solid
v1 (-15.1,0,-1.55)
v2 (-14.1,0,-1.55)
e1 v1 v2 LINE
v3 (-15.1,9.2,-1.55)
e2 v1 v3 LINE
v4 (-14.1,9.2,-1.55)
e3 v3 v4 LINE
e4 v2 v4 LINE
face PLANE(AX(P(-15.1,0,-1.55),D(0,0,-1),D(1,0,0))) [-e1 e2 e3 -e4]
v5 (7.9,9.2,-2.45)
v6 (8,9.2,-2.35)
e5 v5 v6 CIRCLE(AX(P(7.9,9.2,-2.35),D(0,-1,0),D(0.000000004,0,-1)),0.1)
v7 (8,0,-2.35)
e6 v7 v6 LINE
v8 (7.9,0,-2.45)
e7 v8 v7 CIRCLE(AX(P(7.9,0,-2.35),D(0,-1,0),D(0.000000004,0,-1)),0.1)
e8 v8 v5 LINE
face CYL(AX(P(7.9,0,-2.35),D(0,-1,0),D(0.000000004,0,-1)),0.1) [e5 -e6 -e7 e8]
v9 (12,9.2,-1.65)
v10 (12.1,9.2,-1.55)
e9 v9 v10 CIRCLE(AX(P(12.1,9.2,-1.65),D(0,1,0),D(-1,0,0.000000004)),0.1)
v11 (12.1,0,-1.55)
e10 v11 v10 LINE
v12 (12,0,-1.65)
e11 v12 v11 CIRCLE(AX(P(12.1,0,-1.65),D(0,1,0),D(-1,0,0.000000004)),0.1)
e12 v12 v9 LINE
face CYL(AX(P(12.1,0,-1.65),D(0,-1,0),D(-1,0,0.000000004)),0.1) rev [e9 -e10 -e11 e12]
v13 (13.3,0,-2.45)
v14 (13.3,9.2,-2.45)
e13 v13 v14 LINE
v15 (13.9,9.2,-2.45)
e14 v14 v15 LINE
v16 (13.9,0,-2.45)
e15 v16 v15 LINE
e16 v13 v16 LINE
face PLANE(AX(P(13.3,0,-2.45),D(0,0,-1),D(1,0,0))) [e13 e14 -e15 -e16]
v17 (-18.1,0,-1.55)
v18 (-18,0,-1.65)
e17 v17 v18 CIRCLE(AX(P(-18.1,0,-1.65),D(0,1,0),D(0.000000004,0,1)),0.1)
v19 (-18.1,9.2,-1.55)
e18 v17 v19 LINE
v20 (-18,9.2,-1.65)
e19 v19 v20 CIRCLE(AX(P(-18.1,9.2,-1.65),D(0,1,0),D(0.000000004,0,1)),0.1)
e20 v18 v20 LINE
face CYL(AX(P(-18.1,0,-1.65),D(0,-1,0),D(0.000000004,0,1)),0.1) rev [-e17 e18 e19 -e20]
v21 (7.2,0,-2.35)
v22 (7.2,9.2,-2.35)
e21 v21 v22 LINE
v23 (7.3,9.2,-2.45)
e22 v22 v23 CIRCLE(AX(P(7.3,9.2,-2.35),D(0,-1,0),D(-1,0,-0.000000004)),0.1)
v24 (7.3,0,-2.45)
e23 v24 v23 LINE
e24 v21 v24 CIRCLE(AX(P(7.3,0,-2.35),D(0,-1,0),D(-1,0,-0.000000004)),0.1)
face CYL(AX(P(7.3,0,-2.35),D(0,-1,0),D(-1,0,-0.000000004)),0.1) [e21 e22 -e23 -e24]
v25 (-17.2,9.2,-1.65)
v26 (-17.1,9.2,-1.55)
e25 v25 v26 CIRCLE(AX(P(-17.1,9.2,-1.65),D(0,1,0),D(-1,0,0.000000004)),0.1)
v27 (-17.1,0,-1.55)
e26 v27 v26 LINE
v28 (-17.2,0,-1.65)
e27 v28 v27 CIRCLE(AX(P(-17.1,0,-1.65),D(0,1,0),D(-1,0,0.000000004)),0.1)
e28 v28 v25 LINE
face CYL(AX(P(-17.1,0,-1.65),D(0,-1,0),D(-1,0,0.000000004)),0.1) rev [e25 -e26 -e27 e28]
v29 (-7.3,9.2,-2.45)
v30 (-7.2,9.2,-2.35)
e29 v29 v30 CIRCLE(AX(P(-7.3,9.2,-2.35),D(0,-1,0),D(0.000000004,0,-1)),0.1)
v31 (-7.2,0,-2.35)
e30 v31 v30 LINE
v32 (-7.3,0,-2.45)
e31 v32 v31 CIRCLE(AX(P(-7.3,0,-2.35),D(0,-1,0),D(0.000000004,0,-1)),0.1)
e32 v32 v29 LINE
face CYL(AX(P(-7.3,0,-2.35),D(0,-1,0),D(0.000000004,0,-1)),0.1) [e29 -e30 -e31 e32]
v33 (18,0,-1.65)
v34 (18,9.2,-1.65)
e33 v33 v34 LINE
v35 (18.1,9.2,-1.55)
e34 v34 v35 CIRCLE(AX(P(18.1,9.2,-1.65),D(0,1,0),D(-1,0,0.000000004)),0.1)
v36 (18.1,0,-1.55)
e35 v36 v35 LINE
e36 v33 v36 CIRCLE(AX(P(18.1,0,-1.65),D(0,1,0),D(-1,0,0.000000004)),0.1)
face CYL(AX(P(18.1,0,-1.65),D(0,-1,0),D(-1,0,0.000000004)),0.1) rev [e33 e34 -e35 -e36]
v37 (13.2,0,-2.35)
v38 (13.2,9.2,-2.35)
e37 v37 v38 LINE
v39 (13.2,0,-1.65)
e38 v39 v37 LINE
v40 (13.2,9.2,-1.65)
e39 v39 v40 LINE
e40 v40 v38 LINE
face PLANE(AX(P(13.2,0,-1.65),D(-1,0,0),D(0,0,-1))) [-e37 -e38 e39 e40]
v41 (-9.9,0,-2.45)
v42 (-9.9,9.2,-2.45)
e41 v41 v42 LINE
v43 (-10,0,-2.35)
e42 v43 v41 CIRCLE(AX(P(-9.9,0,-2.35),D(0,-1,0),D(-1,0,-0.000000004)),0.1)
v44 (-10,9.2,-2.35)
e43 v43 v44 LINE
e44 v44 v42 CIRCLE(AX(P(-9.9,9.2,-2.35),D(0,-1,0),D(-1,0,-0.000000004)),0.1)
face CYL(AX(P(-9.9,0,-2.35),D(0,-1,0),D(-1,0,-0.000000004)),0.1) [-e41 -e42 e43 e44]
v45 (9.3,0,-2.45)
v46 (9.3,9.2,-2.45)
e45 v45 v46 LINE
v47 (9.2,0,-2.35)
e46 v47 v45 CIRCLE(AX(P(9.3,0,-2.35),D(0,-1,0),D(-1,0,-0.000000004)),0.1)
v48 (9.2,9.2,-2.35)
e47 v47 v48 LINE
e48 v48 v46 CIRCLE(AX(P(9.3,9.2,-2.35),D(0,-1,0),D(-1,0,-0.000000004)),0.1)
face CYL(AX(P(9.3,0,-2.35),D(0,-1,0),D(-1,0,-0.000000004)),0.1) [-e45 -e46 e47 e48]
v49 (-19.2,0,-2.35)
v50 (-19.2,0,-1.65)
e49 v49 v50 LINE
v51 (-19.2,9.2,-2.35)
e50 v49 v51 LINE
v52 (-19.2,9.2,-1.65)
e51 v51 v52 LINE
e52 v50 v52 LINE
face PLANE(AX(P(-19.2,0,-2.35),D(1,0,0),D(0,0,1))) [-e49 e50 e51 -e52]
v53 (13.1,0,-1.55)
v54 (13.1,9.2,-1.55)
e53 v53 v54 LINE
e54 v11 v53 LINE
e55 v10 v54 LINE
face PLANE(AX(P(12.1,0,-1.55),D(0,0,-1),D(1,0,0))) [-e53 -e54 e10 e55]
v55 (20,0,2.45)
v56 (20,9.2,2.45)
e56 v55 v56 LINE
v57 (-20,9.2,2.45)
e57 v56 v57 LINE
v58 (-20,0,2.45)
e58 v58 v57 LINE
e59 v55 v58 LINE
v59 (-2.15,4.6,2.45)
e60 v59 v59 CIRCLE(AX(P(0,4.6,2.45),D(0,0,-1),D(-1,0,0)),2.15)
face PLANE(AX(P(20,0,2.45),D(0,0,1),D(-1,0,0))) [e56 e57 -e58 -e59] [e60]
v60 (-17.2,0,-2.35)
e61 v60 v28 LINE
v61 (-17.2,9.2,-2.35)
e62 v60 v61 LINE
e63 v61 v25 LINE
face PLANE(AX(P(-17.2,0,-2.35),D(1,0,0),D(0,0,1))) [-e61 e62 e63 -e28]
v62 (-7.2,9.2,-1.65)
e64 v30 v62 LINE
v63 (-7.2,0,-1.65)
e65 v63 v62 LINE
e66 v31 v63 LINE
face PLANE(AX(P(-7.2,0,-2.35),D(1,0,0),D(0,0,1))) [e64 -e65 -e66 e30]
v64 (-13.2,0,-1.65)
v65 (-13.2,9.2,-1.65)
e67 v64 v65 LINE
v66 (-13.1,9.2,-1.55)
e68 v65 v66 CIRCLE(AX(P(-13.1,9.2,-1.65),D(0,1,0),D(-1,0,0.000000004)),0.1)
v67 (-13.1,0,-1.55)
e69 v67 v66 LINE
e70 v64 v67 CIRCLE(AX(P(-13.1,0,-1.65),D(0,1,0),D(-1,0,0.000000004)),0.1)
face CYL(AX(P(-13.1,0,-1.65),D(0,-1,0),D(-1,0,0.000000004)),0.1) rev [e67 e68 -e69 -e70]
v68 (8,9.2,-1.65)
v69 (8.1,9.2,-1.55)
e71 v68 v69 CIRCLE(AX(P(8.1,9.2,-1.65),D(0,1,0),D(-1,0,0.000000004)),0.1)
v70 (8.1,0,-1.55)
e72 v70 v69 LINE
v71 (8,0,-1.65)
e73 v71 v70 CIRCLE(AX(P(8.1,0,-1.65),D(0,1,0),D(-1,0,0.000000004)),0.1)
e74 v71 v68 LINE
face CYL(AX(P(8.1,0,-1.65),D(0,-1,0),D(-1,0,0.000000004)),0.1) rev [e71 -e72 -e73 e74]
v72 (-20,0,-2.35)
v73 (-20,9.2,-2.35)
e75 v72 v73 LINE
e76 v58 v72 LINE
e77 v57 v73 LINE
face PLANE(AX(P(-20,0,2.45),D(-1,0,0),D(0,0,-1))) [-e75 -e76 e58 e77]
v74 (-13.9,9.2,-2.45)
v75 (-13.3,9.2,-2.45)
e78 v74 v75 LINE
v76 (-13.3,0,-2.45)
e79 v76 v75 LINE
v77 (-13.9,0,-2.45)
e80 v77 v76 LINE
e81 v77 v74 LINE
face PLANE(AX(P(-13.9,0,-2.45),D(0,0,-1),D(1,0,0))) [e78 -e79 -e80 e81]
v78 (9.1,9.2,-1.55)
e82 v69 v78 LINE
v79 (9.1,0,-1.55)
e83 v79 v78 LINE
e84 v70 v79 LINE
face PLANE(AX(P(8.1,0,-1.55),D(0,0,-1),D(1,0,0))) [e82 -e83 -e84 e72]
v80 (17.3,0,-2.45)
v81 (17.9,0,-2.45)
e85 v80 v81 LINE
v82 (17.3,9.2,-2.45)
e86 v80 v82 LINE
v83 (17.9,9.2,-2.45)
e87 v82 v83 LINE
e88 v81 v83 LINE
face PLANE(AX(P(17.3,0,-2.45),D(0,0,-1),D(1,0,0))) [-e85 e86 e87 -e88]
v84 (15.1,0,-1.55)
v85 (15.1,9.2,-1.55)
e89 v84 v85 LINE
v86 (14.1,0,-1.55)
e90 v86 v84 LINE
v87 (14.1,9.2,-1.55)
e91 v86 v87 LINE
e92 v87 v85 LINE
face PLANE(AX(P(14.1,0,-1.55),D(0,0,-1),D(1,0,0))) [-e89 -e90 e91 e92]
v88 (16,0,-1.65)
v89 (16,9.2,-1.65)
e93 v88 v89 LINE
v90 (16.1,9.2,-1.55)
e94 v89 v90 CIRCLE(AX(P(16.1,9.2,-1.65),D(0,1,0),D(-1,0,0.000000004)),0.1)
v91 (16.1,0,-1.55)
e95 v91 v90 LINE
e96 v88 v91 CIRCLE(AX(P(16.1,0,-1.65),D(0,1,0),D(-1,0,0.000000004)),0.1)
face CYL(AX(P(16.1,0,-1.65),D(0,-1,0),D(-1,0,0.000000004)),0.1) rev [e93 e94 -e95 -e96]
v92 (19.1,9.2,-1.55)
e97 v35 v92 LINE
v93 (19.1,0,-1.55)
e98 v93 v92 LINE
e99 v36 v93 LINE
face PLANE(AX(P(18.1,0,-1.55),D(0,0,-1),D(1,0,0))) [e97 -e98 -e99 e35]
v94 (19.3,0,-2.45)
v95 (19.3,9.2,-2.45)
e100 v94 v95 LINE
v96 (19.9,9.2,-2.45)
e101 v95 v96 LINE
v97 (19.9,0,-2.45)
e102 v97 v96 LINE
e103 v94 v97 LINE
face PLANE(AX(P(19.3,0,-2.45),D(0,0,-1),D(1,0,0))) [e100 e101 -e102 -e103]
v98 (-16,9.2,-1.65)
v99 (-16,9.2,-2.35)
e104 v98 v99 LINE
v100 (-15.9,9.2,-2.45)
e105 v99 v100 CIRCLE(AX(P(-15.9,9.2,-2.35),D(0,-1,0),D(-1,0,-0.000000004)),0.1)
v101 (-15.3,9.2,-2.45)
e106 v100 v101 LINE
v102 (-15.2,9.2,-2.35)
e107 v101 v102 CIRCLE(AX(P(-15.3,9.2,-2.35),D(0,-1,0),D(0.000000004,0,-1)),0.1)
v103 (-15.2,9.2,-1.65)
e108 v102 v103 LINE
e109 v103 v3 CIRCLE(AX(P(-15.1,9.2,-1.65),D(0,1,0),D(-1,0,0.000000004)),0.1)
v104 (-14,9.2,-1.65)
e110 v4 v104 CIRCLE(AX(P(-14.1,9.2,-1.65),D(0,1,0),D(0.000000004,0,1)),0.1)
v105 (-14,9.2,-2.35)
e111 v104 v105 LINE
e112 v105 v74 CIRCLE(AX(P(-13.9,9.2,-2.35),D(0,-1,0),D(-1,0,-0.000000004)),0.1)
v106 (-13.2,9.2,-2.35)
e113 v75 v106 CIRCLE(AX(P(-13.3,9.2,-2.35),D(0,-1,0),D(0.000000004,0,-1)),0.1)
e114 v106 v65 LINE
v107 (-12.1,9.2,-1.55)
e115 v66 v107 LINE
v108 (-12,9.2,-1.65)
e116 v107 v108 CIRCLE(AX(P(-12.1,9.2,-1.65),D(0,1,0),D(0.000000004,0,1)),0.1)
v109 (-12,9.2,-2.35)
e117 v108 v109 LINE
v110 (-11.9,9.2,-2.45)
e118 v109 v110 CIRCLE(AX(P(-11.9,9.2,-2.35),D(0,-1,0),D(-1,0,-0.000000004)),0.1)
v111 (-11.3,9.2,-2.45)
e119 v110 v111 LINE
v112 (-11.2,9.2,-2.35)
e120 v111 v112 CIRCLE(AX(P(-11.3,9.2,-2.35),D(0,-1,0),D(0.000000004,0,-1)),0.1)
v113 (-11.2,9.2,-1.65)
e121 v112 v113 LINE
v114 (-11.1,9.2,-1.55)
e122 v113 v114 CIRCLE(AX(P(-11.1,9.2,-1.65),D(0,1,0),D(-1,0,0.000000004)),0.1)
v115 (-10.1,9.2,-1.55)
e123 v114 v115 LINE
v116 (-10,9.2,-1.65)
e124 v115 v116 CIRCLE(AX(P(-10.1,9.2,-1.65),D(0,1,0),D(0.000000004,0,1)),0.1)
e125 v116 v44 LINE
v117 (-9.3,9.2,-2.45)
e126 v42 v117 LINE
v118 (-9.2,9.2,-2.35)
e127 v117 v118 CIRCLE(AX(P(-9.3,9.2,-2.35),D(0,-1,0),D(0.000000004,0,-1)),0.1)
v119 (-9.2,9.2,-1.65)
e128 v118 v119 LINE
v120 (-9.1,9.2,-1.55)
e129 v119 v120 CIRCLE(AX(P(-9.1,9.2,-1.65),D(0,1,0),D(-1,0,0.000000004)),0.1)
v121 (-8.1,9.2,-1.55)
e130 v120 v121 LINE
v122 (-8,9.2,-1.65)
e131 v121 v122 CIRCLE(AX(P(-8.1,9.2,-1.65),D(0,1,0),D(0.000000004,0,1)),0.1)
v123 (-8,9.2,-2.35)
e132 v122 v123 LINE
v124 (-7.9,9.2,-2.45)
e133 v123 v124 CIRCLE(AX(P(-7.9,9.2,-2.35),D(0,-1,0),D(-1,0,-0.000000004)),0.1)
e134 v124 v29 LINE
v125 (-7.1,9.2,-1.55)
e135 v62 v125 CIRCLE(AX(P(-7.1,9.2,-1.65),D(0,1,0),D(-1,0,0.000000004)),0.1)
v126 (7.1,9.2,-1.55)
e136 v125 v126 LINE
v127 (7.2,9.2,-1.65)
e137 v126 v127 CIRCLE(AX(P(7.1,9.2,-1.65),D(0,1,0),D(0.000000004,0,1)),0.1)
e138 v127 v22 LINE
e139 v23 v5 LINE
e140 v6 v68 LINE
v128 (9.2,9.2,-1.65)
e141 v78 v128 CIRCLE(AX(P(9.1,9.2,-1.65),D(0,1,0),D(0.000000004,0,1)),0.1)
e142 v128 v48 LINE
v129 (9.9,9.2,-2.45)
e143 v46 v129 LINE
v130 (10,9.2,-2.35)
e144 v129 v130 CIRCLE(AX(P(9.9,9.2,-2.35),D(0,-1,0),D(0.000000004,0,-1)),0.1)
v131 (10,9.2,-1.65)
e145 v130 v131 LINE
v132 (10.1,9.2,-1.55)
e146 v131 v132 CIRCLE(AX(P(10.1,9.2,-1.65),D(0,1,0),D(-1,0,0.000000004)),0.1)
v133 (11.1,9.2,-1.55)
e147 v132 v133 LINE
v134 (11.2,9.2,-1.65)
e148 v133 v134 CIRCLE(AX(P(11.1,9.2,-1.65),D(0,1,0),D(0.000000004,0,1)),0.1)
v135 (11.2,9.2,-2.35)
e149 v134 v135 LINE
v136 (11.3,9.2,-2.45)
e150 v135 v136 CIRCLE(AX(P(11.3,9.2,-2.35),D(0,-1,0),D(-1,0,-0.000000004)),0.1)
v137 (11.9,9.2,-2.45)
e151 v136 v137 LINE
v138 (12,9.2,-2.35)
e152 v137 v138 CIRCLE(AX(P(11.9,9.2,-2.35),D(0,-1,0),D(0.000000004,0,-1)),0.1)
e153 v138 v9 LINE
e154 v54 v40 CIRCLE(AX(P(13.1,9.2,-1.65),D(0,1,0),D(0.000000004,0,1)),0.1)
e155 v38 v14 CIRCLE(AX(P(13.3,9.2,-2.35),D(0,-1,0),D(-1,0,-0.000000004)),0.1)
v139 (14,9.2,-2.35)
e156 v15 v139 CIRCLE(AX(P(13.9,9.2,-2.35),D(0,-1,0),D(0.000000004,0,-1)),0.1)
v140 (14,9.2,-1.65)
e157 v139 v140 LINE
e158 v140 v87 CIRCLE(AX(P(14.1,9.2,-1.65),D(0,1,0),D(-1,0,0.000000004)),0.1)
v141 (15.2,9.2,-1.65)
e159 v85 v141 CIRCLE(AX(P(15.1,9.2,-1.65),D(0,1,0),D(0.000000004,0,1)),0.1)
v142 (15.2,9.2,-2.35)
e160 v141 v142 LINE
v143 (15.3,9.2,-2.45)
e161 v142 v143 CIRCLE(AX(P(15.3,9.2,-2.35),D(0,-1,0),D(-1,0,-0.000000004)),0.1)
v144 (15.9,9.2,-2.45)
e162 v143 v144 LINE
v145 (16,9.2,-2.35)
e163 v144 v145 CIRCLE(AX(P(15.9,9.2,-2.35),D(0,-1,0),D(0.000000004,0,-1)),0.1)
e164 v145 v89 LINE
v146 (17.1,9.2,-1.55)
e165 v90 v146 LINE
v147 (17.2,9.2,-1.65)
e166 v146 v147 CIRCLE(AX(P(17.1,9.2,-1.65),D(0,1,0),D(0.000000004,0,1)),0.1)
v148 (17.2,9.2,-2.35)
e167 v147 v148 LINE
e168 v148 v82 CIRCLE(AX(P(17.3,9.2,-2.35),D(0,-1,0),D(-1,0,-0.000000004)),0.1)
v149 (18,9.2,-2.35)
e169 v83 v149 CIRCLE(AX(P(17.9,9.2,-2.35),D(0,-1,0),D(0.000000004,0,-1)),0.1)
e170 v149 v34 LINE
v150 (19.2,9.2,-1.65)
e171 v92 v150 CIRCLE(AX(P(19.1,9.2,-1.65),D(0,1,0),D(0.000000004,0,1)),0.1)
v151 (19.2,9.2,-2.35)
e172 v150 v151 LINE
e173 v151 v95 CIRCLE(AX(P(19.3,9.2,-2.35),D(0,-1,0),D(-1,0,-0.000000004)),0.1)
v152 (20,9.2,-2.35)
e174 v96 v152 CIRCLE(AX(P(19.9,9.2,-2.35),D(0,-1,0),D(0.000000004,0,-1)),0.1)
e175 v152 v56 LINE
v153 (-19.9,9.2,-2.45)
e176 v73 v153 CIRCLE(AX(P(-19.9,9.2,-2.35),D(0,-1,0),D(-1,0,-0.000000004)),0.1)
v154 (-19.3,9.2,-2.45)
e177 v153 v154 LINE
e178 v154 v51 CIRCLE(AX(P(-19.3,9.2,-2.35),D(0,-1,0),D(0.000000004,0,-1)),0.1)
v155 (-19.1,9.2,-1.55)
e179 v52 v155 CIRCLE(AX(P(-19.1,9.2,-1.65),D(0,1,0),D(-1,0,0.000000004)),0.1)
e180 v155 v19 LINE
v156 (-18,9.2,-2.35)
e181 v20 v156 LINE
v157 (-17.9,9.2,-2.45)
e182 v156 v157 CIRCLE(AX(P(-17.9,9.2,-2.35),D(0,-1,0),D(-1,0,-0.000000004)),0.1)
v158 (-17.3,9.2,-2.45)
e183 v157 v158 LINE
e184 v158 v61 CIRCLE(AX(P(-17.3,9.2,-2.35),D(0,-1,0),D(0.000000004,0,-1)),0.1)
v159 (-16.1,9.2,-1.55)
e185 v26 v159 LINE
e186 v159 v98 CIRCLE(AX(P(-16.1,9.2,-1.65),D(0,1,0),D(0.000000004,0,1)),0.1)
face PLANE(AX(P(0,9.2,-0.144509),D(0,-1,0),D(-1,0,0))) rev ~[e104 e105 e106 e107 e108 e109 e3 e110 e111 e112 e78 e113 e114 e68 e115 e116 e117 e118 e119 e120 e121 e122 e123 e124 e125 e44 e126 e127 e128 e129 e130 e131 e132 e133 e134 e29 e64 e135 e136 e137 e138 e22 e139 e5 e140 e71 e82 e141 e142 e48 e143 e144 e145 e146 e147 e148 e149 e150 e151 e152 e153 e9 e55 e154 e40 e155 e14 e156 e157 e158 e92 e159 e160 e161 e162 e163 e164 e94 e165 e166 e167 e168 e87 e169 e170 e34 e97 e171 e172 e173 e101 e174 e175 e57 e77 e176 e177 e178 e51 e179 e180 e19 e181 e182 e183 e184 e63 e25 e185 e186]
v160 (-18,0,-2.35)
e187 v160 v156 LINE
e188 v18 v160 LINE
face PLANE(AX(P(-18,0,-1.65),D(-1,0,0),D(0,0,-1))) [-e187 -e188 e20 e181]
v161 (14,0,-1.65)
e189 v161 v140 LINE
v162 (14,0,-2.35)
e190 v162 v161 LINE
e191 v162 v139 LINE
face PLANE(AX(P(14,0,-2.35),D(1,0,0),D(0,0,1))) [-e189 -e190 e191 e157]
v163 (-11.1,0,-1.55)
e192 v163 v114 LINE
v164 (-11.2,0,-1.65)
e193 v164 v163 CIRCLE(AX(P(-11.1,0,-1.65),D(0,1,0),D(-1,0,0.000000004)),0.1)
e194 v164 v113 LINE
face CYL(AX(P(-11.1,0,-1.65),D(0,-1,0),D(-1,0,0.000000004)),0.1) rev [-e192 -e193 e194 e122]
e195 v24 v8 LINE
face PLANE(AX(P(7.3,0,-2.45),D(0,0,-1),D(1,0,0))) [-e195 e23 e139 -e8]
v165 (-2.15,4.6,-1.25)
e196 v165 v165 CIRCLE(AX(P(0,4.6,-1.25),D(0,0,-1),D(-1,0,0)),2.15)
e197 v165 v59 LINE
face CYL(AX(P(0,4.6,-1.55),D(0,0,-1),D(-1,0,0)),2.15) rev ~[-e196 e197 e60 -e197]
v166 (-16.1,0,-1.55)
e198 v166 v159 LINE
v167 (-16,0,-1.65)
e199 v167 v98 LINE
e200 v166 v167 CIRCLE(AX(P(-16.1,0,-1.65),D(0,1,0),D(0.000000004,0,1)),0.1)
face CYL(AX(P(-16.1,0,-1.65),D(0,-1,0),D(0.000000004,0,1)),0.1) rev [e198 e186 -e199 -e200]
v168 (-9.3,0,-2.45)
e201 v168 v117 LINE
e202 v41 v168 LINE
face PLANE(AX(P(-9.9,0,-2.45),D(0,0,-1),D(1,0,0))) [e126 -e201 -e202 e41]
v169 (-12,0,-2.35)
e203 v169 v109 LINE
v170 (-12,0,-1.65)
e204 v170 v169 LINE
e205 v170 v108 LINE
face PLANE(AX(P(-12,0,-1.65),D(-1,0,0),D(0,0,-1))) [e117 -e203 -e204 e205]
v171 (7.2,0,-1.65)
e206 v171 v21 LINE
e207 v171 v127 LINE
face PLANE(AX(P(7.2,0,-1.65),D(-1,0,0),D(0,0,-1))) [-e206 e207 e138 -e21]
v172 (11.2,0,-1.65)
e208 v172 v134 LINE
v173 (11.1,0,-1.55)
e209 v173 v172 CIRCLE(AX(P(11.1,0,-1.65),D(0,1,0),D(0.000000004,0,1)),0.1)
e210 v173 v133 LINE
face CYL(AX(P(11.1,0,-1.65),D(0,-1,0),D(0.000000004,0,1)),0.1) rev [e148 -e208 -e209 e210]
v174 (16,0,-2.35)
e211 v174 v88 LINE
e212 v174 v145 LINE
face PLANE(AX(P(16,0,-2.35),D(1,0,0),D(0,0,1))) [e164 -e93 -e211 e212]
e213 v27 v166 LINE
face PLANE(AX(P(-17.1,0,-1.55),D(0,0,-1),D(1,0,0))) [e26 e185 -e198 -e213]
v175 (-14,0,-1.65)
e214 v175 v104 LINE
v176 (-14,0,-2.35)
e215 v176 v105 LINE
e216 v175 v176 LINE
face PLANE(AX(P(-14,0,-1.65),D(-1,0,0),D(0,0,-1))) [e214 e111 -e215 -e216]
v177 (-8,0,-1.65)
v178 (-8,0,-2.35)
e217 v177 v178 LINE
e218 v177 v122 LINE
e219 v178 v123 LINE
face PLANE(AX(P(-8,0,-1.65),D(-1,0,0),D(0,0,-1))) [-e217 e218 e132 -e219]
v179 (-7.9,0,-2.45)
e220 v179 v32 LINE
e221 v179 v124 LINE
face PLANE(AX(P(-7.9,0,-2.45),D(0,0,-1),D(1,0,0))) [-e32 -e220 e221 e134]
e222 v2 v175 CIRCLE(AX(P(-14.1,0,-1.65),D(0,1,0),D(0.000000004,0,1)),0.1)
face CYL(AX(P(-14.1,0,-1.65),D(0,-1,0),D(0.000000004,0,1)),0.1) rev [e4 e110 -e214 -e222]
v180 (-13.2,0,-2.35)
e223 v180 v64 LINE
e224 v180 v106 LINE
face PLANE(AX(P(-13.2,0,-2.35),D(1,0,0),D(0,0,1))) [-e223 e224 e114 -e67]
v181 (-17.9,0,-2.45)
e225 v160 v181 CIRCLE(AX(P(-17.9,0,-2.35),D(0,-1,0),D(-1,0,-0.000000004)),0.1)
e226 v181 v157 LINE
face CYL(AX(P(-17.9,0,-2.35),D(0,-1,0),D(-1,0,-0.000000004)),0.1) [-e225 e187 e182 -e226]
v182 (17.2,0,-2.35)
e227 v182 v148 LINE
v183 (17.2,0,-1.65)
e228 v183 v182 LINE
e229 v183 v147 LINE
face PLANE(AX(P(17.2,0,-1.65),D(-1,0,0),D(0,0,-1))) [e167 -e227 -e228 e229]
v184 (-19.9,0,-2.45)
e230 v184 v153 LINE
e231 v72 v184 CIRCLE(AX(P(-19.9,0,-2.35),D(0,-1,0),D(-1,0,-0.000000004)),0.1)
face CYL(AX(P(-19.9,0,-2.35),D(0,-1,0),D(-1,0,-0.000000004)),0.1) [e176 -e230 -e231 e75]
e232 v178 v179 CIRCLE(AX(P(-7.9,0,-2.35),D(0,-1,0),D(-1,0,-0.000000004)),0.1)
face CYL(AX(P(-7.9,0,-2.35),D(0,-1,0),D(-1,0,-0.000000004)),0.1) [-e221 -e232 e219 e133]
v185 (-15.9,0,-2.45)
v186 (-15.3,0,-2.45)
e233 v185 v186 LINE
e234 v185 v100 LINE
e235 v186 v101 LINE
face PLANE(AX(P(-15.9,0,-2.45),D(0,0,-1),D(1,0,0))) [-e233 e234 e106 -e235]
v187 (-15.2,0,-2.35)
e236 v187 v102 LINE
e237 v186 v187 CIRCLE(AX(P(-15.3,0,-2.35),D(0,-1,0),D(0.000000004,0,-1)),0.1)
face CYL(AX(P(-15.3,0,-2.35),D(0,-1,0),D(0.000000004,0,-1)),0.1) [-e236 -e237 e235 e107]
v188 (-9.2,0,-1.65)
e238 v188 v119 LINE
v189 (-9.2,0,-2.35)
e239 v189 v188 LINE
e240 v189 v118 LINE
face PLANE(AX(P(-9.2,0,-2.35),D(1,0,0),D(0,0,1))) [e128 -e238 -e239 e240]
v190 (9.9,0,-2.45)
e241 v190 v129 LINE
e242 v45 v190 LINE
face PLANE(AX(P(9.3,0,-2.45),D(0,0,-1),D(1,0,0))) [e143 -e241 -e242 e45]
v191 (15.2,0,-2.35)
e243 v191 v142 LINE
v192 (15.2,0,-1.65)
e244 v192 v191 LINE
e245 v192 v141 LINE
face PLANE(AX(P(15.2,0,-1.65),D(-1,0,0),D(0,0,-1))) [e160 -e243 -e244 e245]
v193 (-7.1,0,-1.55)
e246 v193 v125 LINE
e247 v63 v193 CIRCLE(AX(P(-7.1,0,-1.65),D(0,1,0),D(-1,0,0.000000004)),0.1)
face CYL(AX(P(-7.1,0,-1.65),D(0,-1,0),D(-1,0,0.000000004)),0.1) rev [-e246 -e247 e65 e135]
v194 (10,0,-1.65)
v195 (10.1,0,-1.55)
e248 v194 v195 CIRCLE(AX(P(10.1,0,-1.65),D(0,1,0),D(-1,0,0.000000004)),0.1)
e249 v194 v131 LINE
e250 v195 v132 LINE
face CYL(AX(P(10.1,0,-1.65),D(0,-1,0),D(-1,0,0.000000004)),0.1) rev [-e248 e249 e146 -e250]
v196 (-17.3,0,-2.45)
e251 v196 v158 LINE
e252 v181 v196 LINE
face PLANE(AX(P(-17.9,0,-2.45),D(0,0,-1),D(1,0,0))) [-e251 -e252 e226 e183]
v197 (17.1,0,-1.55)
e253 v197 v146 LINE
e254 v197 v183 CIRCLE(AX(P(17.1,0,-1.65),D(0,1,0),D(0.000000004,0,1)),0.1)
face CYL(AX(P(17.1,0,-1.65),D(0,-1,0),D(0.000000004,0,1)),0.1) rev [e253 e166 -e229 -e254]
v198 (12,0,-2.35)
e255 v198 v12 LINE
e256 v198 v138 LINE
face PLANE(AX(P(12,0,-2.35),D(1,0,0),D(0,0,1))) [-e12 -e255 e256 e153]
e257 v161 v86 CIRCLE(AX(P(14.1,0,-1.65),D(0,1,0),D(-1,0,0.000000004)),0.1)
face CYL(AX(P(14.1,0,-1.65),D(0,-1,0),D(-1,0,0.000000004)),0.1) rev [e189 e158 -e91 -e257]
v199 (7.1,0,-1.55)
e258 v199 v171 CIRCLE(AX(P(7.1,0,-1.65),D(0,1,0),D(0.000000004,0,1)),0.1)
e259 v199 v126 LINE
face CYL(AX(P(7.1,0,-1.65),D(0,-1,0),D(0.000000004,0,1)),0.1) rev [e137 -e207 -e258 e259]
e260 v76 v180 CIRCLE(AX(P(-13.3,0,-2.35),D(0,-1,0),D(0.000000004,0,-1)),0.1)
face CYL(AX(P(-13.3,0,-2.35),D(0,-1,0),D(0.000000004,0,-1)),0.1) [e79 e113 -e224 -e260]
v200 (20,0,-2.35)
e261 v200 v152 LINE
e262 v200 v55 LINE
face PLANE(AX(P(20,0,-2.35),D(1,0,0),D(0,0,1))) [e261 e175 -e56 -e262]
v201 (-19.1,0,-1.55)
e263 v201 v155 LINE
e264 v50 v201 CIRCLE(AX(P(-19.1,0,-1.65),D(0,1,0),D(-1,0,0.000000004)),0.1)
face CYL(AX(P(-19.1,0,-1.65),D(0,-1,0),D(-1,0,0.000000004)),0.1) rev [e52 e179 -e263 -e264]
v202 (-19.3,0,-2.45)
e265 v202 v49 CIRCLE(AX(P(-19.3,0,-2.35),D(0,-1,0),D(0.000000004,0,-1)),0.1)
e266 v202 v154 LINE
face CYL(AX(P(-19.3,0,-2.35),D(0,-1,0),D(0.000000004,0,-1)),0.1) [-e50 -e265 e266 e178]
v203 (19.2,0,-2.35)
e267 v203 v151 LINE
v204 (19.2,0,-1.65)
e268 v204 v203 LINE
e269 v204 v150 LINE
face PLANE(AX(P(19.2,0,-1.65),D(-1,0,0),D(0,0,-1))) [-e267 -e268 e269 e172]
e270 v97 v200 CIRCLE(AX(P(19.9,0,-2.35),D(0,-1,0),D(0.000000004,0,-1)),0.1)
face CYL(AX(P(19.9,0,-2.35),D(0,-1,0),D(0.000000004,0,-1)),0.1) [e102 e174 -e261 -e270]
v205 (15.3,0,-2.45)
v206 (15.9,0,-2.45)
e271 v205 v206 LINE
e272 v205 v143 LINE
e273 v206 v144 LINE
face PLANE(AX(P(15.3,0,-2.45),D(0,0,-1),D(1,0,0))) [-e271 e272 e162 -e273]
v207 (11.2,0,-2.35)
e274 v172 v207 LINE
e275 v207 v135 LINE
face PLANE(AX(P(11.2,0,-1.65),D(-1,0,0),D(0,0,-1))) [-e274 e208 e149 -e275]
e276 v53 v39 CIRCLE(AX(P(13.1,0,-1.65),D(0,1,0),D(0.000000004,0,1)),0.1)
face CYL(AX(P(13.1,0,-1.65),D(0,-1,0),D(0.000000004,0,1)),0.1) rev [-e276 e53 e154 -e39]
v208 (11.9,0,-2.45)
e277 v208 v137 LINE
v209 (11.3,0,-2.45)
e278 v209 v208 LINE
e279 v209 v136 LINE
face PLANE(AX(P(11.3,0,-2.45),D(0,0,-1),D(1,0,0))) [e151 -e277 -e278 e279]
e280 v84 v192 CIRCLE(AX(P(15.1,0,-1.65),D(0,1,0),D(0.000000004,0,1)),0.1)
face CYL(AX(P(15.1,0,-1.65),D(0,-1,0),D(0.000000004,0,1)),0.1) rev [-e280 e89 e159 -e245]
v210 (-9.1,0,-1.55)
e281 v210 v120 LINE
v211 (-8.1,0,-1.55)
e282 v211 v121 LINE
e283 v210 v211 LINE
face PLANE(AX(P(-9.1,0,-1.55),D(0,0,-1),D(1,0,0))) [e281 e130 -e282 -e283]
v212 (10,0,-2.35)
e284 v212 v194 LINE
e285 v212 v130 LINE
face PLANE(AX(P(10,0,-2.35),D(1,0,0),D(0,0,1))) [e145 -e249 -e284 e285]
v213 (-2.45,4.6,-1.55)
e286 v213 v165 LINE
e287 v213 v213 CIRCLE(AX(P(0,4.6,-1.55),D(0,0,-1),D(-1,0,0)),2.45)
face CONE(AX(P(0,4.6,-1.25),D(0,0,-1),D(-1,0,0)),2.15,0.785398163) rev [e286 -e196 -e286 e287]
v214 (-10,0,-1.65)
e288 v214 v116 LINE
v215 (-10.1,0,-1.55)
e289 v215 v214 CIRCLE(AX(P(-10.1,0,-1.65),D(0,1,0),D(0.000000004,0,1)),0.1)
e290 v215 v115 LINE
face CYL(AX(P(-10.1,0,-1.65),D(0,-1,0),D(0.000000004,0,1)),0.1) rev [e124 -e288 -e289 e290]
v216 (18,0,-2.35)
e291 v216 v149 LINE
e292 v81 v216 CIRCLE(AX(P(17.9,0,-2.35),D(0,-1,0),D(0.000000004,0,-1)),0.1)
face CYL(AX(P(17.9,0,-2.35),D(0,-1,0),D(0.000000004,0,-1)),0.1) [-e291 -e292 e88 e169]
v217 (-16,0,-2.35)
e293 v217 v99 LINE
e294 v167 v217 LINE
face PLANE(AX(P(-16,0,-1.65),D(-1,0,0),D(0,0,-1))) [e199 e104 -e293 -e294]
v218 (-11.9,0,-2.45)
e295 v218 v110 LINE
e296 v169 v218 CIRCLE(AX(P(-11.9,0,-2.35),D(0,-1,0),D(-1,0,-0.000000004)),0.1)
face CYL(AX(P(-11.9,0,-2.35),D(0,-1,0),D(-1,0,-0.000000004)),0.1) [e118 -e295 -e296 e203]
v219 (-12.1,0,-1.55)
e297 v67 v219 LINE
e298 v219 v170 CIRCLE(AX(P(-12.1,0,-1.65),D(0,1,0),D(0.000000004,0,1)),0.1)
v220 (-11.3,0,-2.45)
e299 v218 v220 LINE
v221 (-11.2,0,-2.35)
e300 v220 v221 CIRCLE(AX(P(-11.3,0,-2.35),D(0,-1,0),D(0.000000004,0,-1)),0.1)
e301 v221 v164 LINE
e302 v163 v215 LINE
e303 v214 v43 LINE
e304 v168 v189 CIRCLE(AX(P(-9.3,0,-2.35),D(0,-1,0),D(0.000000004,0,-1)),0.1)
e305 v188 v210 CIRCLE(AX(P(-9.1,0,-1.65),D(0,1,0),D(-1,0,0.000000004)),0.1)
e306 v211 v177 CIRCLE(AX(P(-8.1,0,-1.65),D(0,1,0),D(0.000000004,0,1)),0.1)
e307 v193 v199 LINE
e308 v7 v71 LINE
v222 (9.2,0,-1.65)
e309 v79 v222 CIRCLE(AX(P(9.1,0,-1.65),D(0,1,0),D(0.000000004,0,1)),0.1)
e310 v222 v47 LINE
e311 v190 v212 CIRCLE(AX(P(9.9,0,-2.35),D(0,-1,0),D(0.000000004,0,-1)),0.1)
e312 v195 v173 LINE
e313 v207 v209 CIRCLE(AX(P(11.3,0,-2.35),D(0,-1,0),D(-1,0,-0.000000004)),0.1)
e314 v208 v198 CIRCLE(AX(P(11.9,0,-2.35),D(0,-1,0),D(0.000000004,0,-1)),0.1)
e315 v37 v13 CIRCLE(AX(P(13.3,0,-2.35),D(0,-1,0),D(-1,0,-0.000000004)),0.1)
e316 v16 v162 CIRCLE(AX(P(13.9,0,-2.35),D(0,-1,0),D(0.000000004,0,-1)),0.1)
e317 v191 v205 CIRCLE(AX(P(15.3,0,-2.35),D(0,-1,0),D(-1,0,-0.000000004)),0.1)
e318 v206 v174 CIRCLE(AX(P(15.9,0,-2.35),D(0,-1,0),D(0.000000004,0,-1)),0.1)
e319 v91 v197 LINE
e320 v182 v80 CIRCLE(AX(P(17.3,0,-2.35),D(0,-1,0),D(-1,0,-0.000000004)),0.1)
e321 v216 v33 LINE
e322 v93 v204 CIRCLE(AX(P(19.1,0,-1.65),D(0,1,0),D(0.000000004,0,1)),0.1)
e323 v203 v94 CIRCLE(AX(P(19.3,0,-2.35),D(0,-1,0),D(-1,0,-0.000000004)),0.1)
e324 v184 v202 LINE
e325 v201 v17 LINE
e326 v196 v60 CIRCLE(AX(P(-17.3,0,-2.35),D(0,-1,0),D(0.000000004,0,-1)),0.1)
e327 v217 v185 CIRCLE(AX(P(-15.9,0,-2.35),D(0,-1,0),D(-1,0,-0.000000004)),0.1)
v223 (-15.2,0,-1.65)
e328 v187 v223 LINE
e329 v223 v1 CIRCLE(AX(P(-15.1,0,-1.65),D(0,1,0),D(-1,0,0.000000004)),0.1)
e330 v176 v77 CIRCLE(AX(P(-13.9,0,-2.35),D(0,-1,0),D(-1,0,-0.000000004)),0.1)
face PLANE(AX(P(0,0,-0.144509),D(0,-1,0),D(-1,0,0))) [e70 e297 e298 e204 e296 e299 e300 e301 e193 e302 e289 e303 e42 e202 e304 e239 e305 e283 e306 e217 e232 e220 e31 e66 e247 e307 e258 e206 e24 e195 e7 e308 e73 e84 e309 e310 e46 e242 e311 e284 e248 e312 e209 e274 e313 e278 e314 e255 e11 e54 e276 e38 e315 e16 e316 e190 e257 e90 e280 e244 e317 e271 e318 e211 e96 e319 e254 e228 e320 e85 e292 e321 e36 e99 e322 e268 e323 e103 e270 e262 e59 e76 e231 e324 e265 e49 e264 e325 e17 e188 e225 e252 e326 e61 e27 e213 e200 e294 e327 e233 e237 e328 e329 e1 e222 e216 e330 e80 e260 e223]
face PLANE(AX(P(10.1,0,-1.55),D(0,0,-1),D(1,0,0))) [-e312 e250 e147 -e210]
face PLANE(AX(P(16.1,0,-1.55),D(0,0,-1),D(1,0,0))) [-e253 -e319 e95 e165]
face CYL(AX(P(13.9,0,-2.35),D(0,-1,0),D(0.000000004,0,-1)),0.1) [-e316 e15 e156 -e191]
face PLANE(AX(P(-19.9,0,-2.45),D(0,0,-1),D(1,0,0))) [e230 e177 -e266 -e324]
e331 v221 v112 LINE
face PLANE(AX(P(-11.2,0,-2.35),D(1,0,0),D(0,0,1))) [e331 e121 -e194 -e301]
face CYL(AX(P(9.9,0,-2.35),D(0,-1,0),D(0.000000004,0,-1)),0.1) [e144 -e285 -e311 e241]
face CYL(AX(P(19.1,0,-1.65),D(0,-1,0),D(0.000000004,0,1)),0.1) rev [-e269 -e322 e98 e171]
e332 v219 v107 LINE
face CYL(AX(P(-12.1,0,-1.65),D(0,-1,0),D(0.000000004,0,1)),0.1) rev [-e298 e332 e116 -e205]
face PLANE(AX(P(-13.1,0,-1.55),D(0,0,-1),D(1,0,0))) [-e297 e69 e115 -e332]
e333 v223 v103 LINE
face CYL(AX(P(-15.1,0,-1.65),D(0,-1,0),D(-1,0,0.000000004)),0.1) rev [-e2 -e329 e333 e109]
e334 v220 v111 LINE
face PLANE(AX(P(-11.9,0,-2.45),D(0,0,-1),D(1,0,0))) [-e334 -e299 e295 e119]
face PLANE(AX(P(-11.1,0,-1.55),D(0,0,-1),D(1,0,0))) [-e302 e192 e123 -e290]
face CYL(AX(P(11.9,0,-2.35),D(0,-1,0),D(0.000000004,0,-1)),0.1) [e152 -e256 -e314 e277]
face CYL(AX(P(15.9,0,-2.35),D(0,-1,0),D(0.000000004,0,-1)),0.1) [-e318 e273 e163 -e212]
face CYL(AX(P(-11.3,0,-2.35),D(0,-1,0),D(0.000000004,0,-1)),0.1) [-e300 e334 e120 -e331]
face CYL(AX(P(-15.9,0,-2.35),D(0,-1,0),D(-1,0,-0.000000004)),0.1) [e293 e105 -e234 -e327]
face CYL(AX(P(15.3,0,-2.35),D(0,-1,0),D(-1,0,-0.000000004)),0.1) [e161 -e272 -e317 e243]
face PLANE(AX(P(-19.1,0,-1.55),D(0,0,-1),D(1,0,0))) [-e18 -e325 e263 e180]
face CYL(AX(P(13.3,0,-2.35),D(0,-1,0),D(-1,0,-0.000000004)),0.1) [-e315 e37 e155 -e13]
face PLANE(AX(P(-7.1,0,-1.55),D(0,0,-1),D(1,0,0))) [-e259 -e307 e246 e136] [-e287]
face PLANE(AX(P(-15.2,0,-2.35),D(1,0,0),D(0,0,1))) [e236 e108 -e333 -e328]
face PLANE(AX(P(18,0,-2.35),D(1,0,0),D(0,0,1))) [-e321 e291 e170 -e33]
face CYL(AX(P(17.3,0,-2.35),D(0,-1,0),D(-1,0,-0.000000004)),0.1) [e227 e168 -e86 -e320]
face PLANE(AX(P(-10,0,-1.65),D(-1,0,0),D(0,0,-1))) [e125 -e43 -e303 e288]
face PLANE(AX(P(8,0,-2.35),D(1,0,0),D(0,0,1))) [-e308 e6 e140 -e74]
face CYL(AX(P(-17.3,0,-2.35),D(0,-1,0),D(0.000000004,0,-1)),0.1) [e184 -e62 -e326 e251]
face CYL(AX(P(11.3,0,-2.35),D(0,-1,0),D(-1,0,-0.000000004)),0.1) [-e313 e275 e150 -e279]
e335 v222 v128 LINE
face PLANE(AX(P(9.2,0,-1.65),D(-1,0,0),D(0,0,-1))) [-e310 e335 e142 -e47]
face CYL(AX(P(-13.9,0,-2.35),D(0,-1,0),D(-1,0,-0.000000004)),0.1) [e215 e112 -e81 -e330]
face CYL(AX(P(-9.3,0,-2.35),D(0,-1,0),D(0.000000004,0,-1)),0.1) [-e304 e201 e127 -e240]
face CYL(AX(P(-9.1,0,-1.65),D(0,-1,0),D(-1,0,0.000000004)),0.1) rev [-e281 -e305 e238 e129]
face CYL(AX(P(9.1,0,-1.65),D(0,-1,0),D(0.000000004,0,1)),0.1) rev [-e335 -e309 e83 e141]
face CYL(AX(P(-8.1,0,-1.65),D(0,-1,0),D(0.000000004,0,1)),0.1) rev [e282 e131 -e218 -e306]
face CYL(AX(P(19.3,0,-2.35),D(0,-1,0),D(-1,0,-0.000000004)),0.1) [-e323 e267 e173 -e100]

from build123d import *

# Parameters (mm, degrees)
RESSALTO_EXTRUS_O2_DEPTH = 9.2
ESBO_O5_R                = 2.15
CORTE_EXTRUS_O2_DEPTH    = 9.2
CHANFRO2_SIZE            = 0.3


with BuildPart() as part:
    # Esboço4 → Ressalto-extrusão2 (new body)
    with BuildSketch(Plane(origin=(0, 0, 0), x_dir=(1, 0, 0), z_dir=(0, 1, 0))):
        with BuildLine():
            Line((-19.2, 2.35), (-19.2, 1.65))
            ThreePointArc((-19.2, 1.65), (-19.170710678, 1.579289322), (-19.1, 1.55))
            Line((-19.1, 1.55), (-18.1, 1.55))
            ThreePointArc((-18.1, 1.55), (-18.029289322, 1.579289322), (-18, 1.65))
            Line((-18, 1.65), (-18, 2.35))
            ThreePointArc((-18, 2.35), (-17.970710678, 2.420710678), (-17.9, 2.45))
            Line((-17.9, 2.45), (-17.3, 2.45))
            ThreePointArc((-17.3, 2.45), (-17.229289322, 2.420710678), (-17.2, 2.35))
            Line((-17.2, 2.35), (-17.2, 1.65))
            ThreePointArc((-17.2, 1.65), (-17.170710678, 1.579289322), (-17.1, 1.55))
            Line((-17.1, 1.55), (-16.1, 1.55))
            ThreePointArc((-16.1, 1.55), (-16.029289322, 1.579289322), (-16, 1.65))
            Line((-16, 1.65), (-16, 2.35))
            ThreePointArc((-16, 2.35), (-15.970710678, 2.420710678), (-15.9, 2.45))
            Line((-15.9, 2.45), (-15.3, 2.45))
            ThreePointArc((-15.3, 2.45), (-15.229289322, 2.420710678), (-15.2, 2.35))
            Line((-15.2, 2.35), (-15.2, 1.65))
            ThreePointArc((-15.2, 1.65), (-15.170710678, 1.579289322), (-15.1, 1.55))
            Line((-15.1, 1.55), (-14.1, 1.55))
            ThreePointArc((-14.1, 1.55), (-14.029289322, 1.579289322), (-14, 1.65))
            Line((-14, 1.65), (-14, 2.35))
            ThreePointArc((-14, 2.35), (-13.970710678, 2.420710678), (-13.9, 2.45))
            Line((-13.9, 2.45), (-13.3, 2.45))
            ThreePointArc((-13.3, 2.45), (-13.229289322, 2.420710678), (-13.2, 2.35))
            Line((-13.2, 2.35), (-13.2, 1.65))
            ThreePointArc((-13.2, 1.65), (-13.170710678, 1.579289322), (-13.1, 1.55))
            Line((-13.1, 1.55), (-12.1, 1.55))
            ThreePointArc((-12.1, 1.55), (-12.029289322, 1.579289322), (-12, 1.65))
            Line((-12, 1.65), (-12, 2.35))
            ThreePointArc((-12, 2.35), (-11.970710678, 2.420710678), (-11.9, 2.45))
            Line((-11.9, 2.45), (-11.3, 2.45))
            ThreePointArc((-11.3, 2.45), (-11.229289322, 2.420710678), (-11.2, 2.35))
            Line((-11.2, 2.35), (-11.2, 1.65))
            ThreePointArc((-11.2, 1.65), (-11.170710678, 1.579289322), (-11.1, 1.55))
            Line((-11.1, 1.55), (-10.1, 1.55))
            ThreePointArc((-10.1, 1.55), (-10.029289322, 1.579289322), (-10, 1.65))
            Line((-10, 1.65), (-10, 2.35))
            ThreePointArc((-10, 2.35), (-9.970710678, 2.420710678), (-9.9, 2.45))
            Line((-9.9, 2.45), (-9.3, 2.45))
            ThreePointArc((-9.3, 2.45), (-9.229289322, 2.420710678), (-9.2, 2.35))
            Line((-9.2, 2.35), (-9.2, 1.65))
            ThreePointArc((-9.2, 1.65), (-9.170710678, 1.579289322), (-9.1, 1.55))
            Line((-9.1, 1.55), (-8.1, 1.55))
            ThreePointArc((-8.1, 1.55), (-8.029289322, 1.579289322), (-8, 1.65))
            Line((-8, 1.65), (-8, 2.35))
            ThreePointArc((-8, 2.35), (-7.970710678, 2.420710678), (-7.9, 2.45))
            Line((-7.9, 2.45), (-7.3, 2.45))
            ThreePointArc((-7.3, 2.45), (-7.229289322, 2.420710678), (-7.2, 2.35))
            Line((-7.2, 2.35), (-7.2, 1.65))
            ThreePointArc((-7.2, 1.65), (-7.170710678, 1.579289322), (-7.1, 1.55))
            Line((-7.1, 1.55), (7.1, 1.55))
            ThreePointArc((7.1, 1.55), (7.170710678, 1.579289322), (7.2, 1.65))
            Line((7.2, 1.65), (7.2, 2.35))
            ThreePointArc((7.2, 2.35), (7.229289322, 2.420710678), (7.3, 2.45))
            Line((7.3, 2.45), (7.9, 2.45))
            ThreePointArc((7.9, 2.45), (7.970710678, 2.420710678), (8, 2.35))
            Line((8, 2.35), (8, 1.65))
            ThreePointArc((8, 1.65), (8.029289322, 1.579289322), (8.1, 1.55))
            Line((8.1, 1.55), (9.1, 1.55))
            ThreePointArc((9.1, 1.55), (9.170710678, 1.579289322), (9.2, 1.65))
            Line((9.2, 1.65), (9.2, 2.35))
            ThreePointArc((9.2, 2.35), (9.229289322, 2.420710678), (9.3, 2.45))
            Line((9.3, 2.45), (9.9, 2.45))
            ThreePointArc((9.9, 2.45), (9.970710678, 2.420710678), (10, 2.35))
            Line((10, 2.35), (10, 1.65))
            ThreePointArc((10, 1.65), (10.029289322, 1.579289322), (10.1, 1.55))
            Line((10.1, 1.55), (11.1, 1.55))
            ThreePointArc((11.1, 1.55), (11.170710678, 1.579289322), (11.2, 1.65))
            Line((11.2, 1.65), (11.2, 2.35))
            ThreePointArc((11.2, 2.35), (11.229289322, 2.420710678), (11.3, 2.45))
            Line((11.3, 2.45), (11.9, 2.45))
            ThreePointArc((11.9, 2.45), (11.970710678, 2.420710678), (12, 2.35))
            Line((12, 2.35), (12, 1.65))
            ThreePointArc((12, 1.65), (12.029289322, 1.579289322), (12.1, 1.55))
            Line((12.1, 1.55), (13.1, 1.55))
            ThreePointArc((13.1, 1.55), (13.170710678, 1.579289322), (13.2, 1.65))
            Line((13.2, 1.65), (13.2, 2.35))
            ThreePointArc((13.2, 2.35), (13.229289322, 2.420710678), (13.3, 2.45))
            Line((13.3, 2.45), (13.9, 2.45))
            ThreePointArc((13.9, 2.45), (13.970710678, 2.420710678), (14, 2.35))
            Line((14, 2.35), (14, 1.65))
            ThreePointArc((14, 1.65), (14.029289322, 1.579289322), (14.1, 1.55))
            Line((14.1, 1.55), (15.1, 1.55))
            ThreePointArc((15.1, 1.55), (15.170710678, 1.579289322), (15.2, 1.65))
            Line((15.2, 1.65), (15.2, 2.35))
            ThreePointArc((15.2, 2.35), (15.229289322, 2.420710678), (15.3, 2.45))
            Line((15.3, 2.45), (15.9, 2.45))
            ThreePointArc((15.9, 2.45), (15.970710678, 2.420710678), (16, 2.35))
            Line((16, 2.35), (16, 1.65))
            ThreePointArc((16, 1.65), (16.029289322, 1.579289322), (16.1, 1.55))
            Line((16.1, 1.55), (17.1, 1.55))
            ThreePointArc((17.1, 1.55), (17.170710678, 1.579289322), (17.2, 1.65))
            Line((17.2, 1.65), (17.2, 2.35))
            ThreePointArc((17.2, 2.35), (17.229289322, 2.420710678), (17.3, 2.45))
            Line((17.3, 2.45), (17.9, 2.45))
            ThreePointArc((17.9, 2.45), (17.970710678, 2.420710678), (18, 2.35))
            Line((18, 2.35), (18, 1.65))
            ThreePointArc((18, 1.65), (18.029289322, 1.579289322), (18.1, 1.55))
            Line((18.1, 1.55), (19.1, 1.55))
            ThreePointArc((19.1, 1.55), (19.170710678, 1.579289322), (19.2, 1.65))
            Line((19.2, 1.65), (19.2, 2.35))
            ThreePointArc((19.2, 2.35), (19.229289322, 2.420710678), (19.3, 2.45))
            Line((19.3, 2.45), (19.9, 2.45))
            ThreePointArc((19.9, 2.45), (19.970710678, 2.420710678), (20, 2.35))
            Line((20, 2.35), (20, -2.45))
            Line((20, -2.45), (-20, -2.45))
            Line((-20, -2.45), (-20, 2.35))
            ThreePointArc((-20, 2.35), (-19.970710678, 2.420710678), (-19.9, 2.45))
            Line((-19.9, 2.45), (-19.3, 2.45))
            ThreePointArc((-19.3, 2.45), (-19.229289322, 2.420710678), (-19.2, 2.35))
        make_face()
    extrude(amount=RESSALTO_EXTRUS_O2_DEPTH)

    # Esboço5 → Corte-extrusão2 (cut)
    with BuildSketch(Plane(origin=(0, 0, -1.55), x_dir=(-1, 0, 0), z_dir=(0, 0, -1))):
        with Locations((0, 4.6)):
            Circle(ESBO_O5_R)
    extrude(amount=-CORTE_EXTRUS_O2_DEPTH, mode=Mode.SUBTRACT)

    # Chanfro2
    chanfro2_edges = [part.edges().sort_by_distance(p)[0] for p in [
        (2.15, 4.6, -1.55),
    ]]
    chamfer(chanfro2_edges, length=CHANFRO2_SIZE)


solid = part.part
